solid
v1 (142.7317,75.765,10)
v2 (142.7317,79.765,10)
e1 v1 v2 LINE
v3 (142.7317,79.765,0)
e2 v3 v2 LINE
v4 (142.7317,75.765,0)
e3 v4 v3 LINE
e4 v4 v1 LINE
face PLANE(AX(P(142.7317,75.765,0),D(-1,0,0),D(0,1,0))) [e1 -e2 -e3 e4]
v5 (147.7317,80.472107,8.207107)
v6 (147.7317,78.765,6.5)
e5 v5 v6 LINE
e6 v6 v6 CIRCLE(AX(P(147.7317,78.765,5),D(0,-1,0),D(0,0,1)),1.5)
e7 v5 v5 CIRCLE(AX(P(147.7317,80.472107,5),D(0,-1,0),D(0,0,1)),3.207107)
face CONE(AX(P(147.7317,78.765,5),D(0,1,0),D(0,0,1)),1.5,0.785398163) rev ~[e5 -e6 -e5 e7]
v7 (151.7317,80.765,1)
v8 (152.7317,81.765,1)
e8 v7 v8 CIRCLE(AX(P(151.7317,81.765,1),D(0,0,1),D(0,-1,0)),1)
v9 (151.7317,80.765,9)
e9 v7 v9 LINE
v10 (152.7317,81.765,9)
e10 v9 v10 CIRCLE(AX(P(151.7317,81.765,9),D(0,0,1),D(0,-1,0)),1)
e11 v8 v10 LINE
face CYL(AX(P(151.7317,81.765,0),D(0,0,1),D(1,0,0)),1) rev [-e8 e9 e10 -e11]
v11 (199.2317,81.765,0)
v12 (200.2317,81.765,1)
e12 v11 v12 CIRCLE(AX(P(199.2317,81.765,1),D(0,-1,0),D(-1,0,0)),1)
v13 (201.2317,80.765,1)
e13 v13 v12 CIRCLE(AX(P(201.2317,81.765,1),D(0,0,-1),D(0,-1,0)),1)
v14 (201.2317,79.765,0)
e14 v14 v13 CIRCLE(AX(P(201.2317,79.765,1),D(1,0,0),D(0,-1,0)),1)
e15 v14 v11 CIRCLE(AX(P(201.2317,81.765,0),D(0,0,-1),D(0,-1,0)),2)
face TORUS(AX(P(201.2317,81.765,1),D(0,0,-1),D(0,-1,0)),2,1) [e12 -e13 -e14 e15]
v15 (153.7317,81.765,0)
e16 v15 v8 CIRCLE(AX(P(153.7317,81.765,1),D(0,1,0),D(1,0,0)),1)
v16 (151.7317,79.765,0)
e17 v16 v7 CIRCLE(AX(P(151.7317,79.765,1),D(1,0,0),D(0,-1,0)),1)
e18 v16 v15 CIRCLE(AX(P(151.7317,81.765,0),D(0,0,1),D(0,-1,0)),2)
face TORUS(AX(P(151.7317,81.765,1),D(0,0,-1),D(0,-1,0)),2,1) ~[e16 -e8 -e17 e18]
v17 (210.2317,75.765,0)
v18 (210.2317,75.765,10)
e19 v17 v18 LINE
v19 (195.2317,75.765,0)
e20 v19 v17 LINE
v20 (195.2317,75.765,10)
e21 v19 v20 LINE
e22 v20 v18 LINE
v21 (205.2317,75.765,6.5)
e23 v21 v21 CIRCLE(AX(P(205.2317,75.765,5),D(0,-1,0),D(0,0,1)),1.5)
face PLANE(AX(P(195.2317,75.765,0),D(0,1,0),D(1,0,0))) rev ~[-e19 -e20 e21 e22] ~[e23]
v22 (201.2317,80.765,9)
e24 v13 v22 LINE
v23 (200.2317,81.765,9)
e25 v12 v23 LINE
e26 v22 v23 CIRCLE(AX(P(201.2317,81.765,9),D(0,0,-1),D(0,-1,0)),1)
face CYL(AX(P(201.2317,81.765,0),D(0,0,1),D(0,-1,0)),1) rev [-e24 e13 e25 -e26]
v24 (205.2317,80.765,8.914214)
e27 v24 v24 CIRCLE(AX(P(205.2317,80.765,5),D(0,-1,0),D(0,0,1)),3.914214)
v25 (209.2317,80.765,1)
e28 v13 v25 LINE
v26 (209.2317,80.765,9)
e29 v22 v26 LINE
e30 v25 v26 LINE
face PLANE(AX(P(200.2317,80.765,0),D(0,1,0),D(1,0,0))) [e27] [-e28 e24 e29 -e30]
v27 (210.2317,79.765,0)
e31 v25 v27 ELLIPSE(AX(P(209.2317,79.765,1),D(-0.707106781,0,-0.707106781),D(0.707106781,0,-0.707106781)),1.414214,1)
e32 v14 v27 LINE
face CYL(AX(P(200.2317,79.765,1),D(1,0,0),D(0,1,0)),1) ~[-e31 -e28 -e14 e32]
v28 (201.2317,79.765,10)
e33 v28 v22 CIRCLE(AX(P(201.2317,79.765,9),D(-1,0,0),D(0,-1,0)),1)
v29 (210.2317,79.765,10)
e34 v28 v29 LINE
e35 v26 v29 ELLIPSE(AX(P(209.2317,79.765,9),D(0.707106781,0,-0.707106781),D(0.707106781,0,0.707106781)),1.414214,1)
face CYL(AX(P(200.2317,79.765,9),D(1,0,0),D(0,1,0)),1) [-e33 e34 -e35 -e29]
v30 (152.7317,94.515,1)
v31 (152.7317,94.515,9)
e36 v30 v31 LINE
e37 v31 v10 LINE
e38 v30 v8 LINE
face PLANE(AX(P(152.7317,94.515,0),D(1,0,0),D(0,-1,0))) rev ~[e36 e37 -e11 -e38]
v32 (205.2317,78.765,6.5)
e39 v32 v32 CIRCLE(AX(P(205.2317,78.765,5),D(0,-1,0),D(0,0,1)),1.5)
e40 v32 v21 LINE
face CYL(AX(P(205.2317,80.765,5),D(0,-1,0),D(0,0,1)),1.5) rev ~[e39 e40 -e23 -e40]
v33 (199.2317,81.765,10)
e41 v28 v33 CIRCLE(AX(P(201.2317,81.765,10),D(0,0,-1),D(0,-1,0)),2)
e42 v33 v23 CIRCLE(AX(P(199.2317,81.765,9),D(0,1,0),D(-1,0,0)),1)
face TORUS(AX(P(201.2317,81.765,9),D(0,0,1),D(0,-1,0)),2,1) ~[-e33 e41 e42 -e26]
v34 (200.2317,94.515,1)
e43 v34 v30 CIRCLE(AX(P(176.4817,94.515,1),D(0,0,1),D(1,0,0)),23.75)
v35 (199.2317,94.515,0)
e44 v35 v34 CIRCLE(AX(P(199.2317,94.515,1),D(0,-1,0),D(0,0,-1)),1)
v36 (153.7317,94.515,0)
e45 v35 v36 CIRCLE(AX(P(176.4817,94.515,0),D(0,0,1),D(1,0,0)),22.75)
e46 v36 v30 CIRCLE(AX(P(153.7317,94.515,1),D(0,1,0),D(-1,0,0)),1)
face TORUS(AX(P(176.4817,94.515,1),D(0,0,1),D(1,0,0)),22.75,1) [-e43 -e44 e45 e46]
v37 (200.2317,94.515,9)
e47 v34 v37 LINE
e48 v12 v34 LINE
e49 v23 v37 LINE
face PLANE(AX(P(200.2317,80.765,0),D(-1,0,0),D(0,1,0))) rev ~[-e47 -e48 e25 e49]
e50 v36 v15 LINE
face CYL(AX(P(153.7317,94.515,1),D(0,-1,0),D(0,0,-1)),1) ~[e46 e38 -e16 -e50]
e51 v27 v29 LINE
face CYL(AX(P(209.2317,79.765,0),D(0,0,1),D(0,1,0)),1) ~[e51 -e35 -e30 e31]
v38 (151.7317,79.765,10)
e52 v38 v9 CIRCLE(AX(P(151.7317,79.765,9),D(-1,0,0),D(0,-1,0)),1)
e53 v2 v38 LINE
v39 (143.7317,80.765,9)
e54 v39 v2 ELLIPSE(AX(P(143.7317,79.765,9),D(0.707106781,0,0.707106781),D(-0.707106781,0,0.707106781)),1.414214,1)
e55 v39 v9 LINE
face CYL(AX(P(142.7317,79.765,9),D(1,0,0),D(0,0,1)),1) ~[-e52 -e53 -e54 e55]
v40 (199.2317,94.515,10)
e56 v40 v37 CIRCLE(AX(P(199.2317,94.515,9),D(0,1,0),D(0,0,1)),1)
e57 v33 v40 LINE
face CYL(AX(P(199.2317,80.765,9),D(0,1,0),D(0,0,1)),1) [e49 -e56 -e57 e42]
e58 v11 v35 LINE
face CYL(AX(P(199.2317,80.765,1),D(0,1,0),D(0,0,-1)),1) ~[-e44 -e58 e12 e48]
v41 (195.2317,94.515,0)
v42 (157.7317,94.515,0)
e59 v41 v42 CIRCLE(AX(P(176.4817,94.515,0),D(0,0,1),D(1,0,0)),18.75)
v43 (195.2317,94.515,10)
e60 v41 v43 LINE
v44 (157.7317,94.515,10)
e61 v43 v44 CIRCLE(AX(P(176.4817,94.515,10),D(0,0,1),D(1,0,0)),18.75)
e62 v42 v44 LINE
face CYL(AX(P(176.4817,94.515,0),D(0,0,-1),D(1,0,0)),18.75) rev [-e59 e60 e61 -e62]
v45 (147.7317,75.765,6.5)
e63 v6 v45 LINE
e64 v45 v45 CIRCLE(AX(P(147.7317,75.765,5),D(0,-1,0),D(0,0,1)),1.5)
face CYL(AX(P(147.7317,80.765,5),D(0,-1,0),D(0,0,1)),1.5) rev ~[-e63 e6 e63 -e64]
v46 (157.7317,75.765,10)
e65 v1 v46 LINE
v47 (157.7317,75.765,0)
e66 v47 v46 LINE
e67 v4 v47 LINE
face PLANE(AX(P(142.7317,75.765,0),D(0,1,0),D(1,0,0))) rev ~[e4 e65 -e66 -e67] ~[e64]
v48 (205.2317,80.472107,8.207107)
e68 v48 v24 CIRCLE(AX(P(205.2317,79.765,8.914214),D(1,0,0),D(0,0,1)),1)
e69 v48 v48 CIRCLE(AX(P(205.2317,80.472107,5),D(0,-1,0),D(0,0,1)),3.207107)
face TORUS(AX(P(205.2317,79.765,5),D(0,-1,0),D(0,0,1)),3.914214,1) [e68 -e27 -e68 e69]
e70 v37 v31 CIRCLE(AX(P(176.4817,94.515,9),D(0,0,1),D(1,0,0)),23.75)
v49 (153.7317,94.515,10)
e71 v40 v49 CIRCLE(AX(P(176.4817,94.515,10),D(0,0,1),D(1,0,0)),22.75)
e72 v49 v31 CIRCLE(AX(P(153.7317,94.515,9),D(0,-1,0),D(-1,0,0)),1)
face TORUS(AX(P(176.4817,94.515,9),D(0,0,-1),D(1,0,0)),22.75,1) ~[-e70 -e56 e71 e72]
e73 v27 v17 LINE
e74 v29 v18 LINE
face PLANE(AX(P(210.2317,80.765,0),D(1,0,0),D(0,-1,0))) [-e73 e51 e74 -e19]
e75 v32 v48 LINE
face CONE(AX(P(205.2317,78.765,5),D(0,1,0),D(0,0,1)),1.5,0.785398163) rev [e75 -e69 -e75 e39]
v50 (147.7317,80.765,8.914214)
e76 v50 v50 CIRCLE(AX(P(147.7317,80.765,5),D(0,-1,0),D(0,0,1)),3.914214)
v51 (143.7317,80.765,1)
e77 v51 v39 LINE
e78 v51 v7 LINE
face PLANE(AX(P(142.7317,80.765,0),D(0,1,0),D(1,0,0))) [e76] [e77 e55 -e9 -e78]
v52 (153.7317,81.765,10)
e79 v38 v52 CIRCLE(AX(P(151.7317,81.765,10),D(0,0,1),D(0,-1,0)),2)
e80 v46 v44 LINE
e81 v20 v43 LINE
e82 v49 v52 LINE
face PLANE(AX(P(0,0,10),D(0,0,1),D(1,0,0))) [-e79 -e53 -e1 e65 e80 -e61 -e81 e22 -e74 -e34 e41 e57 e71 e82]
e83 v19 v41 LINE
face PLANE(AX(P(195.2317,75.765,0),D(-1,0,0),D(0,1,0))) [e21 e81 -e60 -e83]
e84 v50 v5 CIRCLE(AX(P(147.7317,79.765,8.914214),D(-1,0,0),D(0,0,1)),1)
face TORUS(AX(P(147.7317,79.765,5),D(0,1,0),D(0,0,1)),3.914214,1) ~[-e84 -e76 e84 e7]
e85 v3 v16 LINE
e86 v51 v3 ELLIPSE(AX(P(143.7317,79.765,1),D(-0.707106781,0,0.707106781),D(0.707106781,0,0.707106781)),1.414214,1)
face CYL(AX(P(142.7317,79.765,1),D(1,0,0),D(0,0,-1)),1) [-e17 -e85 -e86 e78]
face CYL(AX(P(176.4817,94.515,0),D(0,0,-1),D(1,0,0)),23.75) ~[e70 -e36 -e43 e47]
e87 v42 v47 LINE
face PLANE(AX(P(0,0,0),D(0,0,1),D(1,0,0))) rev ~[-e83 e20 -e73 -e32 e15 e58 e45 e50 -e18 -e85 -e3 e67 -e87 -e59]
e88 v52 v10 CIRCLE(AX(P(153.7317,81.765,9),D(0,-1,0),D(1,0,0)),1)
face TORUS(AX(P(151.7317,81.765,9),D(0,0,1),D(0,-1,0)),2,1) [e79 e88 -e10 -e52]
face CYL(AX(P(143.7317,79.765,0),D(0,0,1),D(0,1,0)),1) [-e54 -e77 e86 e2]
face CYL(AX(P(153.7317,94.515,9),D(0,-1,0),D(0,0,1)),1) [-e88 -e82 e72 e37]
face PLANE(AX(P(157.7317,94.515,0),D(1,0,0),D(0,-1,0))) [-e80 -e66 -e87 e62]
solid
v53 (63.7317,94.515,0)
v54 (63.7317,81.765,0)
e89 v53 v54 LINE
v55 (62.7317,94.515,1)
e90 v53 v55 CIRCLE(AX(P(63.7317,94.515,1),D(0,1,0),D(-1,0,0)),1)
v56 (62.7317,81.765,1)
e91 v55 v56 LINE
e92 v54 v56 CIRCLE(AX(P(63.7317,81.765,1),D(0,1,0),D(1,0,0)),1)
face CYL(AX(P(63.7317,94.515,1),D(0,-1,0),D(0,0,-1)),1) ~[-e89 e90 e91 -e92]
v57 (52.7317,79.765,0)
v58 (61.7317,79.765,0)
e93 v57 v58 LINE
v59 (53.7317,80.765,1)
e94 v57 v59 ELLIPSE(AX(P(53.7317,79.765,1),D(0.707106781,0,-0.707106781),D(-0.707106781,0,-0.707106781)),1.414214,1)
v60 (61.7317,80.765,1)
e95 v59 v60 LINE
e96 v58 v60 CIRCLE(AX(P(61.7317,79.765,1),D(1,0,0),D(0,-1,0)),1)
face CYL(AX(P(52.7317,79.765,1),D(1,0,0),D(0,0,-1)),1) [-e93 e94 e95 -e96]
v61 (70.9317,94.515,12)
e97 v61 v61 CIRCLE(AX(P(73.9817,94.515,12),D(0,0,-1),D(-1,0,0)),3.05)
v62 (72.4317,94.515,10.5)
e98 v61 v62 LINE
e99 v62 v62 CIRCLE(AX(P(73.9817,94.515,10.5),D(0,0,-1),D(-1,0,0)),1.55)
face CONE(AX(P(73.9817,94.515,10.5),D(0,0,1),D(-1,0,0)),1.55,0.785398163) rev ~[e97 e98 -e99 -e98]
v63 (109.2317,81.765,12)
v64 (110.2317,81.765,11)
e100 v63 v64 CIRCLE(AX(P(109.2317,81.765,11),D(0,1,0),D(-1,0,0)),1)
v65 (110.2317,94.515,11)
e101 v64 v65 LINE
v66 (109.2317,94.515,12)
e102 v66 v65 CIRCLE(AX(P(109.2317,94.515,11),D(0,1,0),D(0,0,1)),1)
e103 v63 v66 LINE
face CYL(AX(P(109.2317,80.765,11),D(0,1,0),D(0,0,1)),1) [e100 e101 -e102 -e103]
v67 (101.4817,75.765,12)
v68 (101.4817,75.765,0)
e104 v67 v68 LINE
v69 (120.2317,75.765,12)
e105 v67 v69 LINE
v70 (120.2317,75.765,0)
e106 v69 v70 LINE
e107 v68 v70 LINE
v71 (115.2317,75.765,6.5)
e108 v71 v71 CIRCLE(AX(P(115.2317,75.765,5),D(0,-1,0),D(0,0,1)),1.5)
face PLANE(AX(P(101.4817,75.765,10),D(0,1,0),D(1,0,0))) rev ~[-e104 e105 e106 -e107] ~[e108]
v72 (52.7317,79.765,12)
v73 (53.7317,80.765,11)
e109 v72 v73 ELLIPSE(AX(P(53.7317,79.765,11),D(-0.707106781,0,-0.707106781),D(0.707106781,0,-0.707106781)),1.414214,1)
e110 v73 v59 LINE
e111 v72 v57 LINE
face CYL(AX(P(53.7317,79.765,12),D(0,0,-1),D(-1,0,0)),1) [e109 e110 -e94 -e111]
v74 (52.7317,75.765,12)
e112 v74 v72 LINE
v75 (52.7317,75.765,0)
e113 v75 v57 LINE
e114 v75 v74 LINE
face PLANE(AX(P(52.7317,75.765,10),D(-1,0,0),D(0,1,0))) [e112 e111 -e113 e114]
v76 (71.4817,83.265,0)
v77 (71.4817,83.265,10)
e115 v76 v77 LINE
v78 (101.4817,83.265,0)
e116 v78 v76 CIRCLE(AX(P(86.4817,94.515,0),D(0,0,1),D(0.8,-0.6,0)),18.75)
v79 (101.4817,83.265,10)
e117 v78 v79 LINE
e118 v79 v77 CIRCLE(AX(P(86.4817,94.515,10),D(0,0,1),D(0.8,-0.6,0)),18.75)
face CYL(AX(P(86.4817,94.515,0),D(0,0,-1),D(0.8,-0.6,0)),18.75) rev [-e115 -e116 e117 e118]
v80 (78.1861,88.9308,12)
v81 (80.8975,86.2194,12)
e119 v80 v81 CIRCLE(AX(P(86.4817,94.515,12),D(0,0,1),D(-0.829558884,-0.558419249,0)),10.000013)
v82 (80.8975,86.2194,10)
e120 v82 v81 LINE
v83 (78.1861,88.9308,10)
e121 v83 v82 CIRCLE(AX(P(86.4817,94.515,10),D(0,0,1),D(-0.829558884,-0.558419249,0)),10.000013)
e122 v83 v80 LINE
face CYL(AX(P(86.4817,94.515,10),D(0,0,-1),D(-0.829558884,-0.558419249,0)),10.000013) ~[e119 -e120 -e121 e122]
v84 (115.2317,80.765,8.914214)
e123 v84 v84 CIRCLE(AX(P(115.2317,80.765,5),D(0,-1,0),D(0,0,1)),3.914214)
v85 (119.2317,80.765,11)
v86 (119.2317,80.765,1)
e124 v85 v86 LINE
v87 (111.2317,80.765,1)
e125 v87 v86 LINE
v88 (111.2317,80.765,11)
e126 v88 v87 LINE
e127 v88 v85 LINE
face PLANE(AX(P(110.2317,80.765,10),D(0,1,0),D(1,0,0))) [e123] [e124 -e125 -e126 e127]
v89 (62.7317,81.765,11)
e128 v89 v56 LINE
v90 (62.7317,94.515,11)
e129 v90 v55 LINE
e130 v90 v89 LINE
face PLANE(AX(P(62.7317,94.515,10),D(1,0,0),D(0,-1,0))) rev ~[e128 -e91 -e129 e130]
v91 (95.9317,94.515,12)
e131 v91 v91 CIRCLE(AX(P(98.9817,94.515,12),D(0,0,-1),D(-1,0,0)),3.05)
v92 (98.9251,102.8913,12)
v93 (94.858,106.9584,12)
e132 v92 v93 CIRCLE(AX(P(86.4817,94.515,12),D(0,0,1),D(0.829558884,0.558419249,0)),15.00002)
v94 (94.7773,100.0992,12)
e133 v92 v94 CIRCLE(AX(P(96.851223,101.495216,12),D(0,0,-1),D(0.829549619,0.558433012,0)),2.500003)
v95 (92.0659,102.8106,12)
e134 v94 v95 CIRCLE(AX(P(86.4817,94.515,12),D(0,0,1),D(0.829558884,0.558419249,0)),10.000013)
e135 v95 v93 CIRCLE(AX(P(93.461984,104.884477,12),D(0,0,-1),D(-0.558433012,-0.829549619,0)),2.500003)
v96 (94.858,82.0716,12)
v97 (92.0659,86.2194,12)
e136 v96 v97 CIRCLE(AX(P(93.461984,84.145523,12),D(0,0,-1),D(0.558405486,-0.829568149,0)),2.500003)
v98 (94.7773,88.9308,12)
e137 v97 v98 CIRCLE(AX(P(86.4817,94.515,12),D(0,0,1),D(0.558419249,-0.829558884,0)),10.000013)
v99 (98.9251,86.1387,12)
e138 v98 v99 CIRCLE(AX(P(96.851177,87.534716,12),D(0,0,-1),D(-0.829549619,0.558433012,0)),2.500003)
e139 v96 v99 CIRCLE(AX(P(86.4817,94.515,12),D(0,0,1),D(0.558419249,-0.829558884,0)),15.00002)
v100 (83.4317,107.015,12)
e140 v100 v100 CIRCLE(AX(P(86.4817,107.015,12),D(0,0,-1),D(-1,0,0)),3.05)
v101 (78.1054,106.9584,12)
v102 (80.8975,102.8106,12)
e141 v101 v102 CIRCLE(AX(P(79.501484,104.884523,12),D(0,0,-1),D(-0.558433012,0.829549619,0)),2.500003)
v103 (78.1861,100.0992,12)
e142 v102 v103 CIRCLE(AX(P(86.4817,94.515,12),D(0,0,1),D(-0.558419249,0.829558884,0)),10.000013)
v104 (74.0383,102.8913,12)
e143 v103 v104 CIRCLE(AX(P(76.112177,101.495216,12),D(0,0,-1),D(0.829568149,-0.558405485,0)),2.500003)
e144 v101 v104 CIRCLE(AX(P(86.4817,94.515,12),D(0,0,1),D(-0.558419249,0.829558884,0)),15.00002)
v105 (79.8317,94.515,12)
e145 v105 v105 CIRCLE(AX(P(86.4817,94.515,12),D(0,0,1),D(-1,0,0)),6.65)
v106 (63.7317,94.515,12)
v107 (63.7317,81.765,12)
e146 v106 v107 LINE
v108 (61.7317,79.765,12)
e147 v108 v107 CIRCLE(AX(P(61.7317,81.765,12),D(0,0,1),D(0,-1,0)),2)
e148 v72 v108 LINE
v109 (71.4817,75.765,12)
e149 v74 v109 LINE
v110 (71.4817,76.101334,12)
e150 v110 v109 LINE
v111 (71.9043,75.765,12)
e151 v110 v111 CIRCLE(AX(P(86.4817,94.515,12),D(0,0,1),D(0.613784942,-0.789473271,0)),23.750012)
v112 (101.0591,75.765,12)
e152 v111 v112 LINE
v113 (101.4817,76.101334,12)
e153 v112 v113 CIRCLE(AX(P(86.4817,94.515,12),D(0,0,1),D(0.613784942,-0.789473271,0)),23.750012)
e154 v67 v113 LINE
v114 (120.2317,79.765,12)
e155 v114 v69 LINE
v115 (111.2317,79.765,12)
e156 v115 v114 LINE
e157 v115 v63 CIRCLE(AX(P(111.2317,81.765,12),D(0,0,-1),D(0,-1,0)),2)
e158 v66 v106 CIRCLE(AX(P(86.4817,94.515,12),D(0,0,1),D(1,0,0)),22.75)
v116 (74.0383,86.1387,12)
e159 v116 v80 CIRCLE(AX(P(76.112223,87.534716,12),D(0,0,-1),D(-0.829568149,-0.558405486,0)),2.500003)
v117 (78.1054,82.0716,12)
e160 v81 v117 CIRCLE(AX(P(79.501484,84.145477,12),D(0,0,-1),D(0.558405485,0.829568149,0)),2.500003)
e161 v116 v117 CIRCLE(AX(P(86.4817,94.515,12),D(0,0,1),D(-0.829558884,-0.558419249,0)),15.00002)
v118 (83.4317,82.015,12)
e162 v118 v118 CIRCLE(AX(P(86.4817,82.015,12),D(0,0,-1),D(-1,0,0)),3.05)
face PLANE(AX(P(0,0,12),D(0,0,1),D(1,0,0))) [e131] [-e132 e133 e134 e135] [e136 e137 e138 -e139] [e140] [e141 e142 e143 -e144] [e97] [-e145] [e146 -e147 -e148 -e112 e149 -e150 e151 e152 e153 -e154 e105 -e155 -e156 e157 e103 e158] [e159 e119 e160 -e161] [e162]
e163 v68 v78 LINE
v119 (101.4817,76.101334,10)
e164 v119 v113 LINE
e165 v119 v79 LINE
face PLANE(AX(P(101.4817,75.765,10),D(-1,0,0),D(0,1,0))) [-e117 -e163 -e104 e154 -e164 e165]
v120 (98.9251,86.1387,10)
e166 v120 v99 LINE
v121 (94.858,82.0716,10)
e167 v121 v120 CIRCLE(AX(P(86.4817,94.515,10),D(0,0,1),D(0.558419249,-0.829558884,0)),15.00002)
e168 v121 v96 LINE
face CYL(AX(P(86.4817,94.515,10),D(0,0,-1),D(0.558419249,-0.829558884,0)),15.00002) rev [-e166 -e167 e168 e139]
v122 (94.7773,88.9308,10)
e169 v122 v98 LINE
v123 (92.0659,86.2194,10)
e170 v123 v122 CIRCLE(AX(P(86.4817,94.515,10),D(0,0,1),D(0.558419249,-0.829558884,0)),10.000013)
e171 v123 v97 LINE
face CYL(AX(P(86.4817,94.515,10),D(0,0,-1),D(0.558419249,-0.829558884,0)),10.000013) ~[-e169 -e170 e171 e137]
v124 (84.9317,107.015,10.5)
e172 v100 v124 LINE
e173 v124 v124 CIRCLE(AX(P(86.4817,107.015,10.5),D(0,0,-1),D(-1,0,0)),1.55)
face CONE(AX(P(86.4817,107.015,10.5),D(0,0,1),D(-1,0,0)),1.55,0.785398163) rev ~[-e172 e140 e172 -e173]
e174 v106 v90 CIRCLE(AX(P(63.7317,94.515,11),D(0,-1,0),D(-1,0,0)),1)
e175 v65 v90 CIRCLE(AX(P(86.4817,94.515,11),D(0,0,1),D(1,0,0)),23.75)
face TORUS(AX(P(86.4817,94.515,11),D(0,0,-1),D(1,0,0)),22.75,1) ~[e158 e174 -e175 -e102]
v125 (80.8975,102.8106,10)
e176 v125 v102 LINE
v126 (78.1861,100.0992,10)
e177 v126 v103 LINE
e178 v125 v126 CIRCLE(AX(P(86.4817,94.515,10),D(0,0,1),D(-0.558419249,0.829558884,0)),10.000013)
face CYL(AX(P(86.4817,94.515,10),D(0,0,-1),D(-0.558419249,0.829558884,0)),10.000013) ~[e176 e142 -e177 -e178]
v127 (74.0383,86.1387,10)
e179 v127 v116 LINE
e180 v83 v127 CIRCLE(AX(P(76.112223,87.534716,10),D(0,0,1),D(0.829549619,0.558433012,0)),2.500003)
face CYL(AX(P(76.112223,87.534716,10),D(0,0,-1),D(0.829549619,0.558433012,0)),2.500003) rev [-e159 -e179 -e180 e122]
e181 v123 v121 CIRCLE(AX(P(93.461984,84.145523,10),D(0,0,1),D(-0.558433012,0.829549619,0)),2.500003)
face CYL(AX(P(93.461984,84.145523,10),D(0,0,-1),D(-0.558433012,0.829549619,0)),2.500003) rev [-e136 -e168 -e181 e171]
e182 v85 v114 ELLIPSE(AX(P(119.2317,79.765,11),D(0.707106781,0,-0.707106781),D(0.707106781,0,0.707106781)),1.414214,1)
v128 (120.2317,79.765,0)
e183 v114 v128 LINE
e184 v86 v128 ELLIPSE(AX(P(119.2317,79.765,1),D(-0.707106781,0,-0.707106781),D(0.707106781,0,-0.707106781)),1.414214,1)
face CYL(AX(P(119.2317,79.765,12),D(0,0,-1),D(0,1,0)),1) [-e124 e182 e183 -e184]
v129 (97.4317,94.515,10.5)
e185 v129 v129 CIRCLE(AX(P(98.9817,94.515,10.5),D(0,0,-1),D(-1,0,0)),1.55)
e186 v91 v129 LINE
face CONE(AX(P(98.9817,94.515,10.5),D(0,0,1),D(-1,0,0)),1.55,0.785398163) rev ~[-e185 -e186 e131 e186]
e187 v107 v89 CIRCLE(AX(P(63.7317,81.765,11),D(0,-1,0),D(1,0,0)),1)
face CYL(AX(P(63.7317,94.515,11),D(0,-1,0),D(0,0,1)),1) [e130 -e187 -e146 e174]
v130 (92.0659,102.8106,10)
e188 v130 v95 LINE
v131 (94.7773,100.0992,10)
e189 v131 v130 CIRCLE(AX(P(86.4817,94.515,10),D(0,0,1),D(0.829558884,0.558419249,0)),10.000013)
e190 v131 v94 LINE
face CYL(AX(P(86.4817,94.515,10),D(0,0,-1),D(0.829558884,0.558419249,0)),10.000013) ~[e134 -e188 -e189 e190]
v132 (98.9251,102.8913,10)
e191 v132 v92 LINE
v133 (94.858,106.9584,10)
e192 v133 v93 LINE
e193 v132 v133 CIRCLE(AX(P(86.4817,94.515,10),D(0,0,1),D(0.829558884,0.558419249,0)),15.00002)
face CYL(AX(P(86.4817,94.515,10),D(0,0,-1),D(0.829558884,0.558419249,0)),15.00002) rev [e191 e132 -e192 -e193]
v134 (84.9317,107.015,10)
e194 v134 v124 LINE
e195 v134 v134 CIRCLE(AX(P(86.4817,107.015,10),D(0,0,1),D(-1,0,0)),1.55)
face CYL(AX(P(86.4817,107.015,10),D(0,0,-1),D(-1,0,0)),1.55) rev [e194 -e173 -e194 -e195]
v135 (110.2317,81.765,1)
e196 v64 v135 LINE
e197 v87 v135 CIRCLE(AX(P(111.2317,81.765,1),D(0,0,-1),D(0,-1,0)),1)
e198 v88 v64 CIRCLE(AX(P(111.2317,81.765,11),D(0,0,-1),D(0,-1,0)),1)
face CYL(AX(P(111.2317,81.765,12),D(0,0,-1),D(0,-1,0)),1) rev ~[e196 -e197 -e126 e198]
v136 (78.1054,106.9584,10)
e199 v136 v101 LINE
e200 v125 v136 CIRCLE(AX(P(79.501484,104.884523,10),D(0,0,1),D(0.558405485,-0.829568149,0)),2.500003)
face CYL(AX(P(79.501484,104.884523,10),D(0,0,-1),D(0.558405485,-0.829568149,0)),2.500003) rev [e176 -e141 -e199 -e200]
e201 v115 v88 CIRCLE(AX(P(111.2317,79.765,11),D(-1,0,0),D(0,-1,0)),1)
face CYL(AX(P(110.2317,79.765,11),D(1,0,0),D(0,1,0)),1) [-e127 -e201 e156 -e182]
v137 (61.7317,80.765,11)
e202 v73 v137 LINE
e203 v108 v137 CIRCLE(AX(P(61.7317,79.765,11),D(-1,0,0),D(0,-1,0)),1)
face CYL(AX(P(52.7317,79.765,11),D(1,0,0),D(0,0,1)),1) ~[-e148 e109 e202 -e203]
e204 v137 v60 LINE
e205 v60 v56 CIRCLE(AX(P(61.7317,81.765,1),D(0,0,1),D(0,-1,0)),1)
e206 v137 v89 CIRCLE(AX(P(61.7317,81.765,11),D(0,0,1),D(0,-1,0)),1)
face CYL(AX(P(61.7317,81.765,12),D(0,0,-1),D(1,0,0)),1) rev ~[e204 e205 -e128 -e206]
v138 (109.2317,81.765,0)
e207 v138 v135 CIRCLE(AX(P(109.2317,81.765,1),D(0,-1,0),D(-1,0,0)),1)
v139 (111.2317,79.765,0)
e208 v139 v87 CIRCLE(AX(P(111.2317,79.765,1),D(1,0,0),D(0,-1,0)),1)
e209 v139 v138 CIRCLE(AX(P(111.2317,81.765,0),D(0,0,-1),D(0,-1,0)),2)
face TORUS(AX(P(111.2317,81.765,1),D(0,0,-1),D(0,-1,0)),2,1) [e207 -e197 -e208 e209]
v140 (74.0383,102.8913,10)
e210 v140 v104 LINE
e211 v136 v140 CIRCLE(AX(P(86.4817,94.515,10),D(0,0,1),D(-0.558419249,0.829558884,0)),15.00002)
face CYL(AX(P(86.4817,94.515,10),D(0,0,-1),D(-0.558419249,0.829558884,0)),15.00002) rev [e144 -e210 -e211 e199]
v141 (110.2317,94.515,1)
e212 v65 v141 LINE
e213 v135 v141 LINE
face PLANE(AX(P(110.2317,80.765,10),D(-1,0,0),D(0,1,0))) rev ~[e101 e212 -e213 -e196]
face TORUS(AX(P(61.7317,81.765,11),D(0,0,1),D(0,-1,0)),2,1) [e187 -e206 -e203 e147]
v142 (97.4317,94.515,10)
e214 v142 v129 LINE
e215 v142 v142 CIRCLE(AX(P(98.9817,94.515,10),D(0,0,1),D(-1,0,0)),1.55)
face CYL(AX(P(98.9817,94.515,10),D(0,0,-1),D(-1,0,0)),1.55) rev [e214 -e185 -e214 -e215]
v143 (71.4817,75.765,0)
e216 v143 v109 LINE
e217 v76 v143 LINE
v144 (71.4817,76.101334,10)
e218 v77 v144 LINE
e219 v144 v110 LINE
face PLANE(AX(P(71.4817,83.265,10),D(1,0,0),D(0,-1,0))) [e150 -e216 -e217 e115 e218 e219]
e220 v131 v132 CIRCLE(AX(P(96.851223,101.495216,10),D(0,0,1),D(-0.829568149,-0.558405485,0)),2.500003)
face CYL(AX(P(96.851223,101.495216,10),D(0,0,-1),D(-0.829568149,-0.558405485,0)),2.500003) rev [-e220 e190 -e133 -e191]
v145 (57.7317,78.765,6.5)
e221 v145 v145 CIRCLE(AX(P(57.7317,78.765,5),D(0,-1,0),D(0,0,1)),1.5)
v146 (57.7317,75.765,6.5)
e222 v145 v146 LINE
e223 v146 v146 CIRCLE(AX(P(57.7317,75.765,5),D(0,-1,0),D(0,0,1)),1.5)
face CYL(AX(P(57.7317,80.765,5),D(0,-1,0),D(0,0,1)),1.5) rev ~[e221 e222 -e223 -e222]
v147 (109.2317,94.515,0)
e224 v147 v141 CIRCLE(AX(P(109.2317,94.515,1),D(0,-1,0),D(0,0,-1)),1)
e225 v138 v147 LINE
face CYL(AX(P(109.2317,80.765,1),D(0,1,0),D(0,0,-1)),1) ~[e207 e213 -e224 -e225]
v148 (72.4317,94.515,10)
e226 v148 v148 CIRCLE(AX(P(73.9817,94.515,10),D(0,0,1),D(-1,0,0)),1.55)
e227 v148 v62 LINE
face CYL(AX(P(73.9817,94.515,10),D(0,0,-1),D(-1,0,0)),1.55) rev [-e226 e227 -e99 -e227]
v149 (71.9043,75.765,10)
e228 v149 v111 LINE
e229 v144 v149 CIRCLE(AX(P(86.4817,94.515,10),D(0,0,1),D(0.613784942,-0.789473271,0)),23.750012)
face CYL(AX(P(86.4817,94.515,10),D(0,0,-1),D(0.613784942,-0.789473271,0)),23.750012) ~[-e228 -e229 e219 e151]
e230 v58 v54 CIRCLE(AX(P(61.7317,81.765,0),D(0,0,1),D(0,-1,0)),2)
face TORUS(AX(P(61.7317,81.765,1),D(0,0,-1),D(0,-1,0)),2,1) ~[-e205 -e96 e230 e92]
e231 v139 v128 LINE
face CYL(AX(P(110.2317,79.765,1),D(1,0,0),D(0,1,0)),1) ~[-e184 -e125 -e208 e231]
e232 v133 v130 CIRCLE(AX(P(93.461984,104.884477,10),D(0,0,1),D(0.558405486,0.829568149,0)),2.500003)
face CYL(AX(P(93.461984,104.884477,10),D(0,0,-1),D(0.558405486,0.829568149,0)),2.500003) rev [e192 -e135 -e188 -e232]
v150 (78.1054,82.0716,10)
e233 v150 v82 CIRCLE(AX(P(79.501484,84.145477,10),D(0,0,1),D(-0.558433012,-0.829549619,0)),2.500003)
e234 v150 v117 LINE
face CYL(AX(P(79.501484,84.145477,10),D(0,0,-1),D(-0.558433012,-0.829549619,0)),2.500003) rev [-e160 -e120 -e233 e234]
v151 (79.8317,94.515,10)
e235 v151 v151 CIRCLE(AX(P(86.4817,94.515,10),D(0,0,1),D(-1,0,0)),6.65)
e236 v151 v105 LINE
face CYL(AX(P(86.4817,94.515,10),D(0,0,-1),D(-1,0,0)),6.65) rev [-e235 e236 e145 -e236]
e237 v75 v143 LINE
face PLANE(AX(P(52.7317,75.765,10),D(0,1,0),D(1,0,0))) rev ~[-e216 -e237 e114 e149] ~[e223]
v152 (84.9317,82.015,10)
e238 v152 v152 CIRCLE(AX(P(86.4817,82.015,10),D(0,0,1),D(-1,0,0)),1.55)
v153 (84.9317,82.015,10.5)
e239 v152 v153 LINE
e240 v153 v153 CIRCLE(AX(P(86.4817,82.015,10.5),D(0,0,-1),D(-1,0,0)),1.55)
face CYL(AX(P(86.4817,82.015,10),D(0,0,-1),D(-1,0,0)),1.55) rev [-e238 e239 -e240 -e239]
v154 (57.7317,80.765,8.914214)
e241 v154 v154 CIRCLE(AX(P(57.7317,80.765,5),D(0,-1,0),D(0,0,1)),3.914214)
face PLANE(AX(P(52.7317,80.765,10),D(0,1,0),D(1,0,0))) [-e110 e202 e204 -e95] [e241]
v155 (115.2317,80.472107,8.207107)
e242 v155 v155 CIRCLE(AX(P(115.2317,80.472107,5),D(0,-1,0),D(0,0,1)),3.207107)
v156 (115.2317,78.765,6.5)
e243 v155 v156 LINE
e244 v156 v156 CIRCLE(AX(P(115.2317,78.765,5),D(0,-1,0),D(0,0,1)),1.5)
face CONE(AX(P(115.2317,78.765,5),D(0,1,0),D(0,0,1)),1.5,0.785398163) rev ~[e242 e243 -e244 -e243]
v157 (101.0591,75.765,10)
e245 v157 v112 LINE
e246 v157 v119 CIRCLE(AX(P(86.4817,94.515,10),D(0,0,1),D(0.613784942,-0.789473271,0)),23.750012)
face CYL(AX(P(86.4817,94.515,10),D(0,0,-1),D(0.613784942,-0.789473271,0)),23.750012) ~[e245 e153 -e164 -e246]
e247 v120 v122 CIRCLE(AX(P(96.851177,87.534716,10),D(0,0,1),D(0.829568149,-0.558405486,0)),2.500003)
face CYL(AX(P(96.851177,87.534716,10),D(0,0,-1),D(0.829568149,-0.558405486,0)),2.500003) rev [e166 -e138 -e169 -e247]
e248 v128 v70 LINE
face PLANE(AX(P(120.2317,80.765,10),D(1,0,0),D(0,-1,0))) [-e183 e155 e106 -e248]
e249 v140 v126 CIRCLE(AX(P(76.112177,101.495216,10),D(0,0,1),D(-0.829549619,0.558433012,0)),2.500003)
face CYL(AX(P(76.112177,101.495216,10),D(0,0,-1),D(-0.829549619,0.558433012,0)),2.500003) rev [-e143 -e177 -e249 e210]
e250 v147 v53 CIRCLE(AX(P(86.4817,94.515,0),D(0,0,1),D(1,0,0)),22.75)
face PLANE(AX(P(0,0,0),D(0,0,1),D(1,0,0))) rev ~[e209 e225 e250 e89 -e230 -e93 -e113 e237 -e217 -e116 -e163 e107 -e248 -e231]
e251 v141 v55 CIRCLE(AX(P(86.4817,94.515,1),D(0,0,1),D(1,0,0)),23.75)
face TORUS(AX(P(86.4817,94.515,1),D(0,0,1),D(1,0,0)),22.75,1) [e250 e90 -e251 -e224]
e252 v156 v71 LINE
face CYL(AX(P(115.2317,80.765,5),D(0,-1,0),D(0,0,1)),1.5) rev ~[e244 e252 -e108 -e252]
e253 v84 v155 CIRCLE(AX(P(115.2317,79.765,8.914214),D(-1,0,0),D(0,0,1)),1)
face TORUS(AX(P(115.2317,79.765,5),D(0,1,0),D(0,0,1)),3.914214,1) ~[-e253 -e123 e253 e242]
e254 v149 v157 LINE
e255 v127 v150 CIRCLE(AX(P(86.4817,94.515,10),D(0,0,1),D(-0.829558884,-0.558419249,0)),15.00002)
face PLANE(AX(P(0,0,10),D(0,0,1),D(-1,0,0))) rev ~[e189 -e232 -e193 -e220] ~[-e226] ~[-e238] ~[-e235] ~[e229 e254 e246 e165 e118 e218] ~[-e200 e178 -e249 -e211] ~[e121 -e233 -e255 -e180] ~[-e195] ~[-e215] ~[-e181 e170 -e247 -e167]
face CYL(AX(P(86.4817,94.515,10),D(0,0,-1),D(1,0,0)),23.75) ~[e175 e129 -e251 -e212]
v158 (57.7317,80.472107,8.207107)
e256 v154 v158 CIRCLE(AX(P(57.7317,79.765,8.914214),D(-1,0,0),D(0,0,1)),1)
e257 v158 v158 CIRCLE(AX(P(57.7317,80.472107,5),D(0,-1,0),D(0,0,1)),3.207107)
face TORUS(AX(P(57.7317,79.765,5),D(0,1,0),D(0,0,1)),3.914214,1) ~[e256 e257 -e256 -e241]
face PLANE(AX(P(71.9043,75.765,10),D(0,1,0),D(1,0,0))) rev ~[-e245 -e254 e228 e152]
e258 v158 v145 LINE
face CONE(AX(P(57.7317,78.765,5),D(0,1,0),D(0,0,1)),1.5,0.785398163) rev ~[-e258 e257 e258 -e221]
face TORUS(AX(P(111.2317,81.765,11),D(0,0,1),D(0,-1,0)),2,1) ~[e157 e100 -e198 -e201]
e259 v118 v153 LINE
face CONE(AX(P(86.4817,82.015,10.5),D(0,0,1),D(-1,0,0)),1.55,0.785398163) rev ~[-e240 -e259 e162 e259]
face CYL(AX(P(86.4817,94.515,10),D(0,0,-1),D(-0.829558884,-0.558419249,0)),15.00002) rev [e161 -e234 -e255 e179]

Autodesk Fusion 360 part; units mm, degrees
sketch "Sketch1" plane through (0, 0, 0) normal (0, 0, 1) x (1, 0, 0)
  line L0 (52.7317, 75.765) -> (52.7317, 80.765)
  line L1 (120.2317, 80.765) -> (120.2317, 75.765)
  line L2 (52.7317, 80.765) -> (62.7317, 80.765)
  line L3 (110.2317, 80.765) -> (120.2317, 80.765)
  line L4 (62.7317, 94.515) -> (62.7317, 80.765)
  line L5 (110.2317, 80.765) -> (110.2317, 94.515)
  arc A0 (110.2317, 94.515) -> (62.7317, 94.515) centre (86.4817, 94.515) ccw
  arc A1 (67.1168, 80.765) -> (67.7317, 79.9376) centre (86.4817, 94.515) ccw
  line L6 (195.2317, 75.765) -> (195.2317, 94.515)
  line L7 (210.2317, 80.765) -> (210.2317, 70.765)
  line L8 (200.2317, 80.765) -> (210.2317, 80.765)
  line L9 (200.2317, 80.765) -> (200.2317, 94.515)
  line L10 (142.7317, 80.765) -> (152.7317, 80.765)
  arc A2 (157.1168, 80.765) -> (157.7317, 79.9376) centre (176.4817, 94.515) ccw
  line L11 (152.7317, 94.515) -> (152.7317, 80.765)
  arc A3 (200.2317, 94.515) -> (152.7317, 94.515) centre (176.4817, 94.515) ccw
  line L12 (157.7317, 94.515) -> (157.7317, 75.765)
  line L13 (142.7317, 75.765) -> (142.7317, 80.765)
  line L14 (71.4817, 83.265) -> (71.4817, 75.765)
  line L15 (101.4817, 75.765) -> (101.4817, 83.265)
  arc A4 (101.4817, 83.265) -> (71.4817, 83.265) centre (86.4817, 94.515) ccw
  line L16 (52.7317, 75.765) -> (71.4817, 75.765)
  line L17 (101.4817, 75.765) -> (120.2317, 75.765)
  arc A5 (195.2317, 94.515) -> (157.7317, 94.515) centre (176.4817, 94.515) ccw
  line L18 (142.7317, 75.765) -> (157.7317, 75.765)
  line L19 (195.2317, 75.765) -> (210.2317, 75.765)
  point P0 (86.4817, 75.765)
  point P1 (86.4817, 75.765)
  point P2 (176.4817, 75.765)
  point P3 (176.4817, 75.765)
  point P4 (86.4817, 75.765)
  dimension "d1" = 37.5
  dimension "d3" = 47.5
  dimension "d4" = 67.5
  dimension "d6" = 37.5
  dimension "d7" = 47.5
  dimension "d8" = 67.5
extrude "Extrude1" add sketch "Sketch1" along normal blind 10 contours L0 L1 L2 L3 L4 L5 A0 L14 L15 A4 L16 L17 makes body 1
extrude "Extrude2" add sketch "Sketch1" along normal blind 10 separate body contours L6 L7 L8 L9 L10 L11 A3 L12 L13 A5 L18 L19 makes body 2
hole "Hole1" at (205.2317, 80.765, 5) direction (0, -1, 0) diameter 3 depth 8 tip angle 118 bodies 2
hole "Hole2" at (147.7317, 80.765, 5) direction (0, -1, 0) diameter 3 depth 8 tip angle 118 bodies 2
hole "Hole3" at (115.2317, 80.765, 5) direction (0, -1, 0) diameter 3 depth 8 tip angle 118 bodies 1
hole "Hole4" at (57.7317, 80.765, 5) direction (0, -1, 0) diameter 3 depth 8 tip angle 118 bodies 1
sketch "Sketch2" plane through (0, 0, 10) normal (0, 0, 1) x (-1, 0, 0)
  line L0 (-101.4817, -83.265) -> (-101.4817, -75.765)
  line L1 (-101.4817, -75.765) -> (-120.2317, -75.765)
  line L2 (-120.2317, -75.765) -> (-120.2317, -80.765)
  line L3 (-120.2317, -80.765) -> (-110.2317, -80.765)
  line L4 (-110.2317, -80.765) -> (-110.2317, -94.515)
  arc A0 (-110.2317, -94.515) -> (-62.7317, -94.515) centre (-86.4817, -94.515) ccw
  line L5 (-62.7317, -94.515) -> (-62.7317, -80.765)
  line L6 (-62.7317, -80.765) -> (-52.7317, -80.765)
  line L7 (-52.7317, -80.765) -> (-52.7317, -75.765)
  line L8 (-52.7317, -75.765) -> (-71.4817, -75.765)
  line L9 (-71.4817, -75.765) -> (-71.4817, -83.265)
  arc A1 (-101.4817, -83.265) -> (-71.4817, -83.265) centre (-86.4817, -94.515) ccw
  line L10 (-71.4817, -75.765) -> (-101.4817, -75.765)
  circle A2 centre (-86.4817, -94.515) radius 6.65
  circle A3 centre (-98.9817, -94.515) radius 1.55
  circle A4 centre (-86.4817, -94.515) radius 12.5
  arc A5 (-78.1054, -106.9584) -> (-74.0383, -102.8913) centre (-86.4817, -94.515) ccw
  arc A6 (-80.8975, -102.8106) -> (-78.1054, -106.9584) centre (-79.5015, -104.8845) ccw
  arc A7 (-80.8975, -102.8106) -> (-78.1861, -100.0992) centre (-86.4817, -94.515) ccw
  arc A8 (-74.0383, -102.8913) -> (-78.1861, -100.0992) centre (-76.1122, -101.4952) ccw
  arc A9 (-79.5015, -104.8845) -> (-76.1122, -101.4952) centre (-86.4817, -94.515) ccw construction
  arc A10 (-74.0383, -86.1387) -> (-78.1054, -82.0716) centre (-86.4817, -94.515) ccw
  arc A11 (-78.1861, -88.9308) -> (-74.0383, -86.1387) centre (-76.1122, -87.5347) ccw
  arc A12 (-78.1861, -88.9308) -> (-80.8975, -86.2194) centre (-86.4817, -94.515) ccw
  arc A13 (-78.1054, -82.0716) -> (-80.8975, -86.2194) centre (-79.5015, -84.1455) ccw
  arc A14 (-94.858, -82.0716) -> (-98.9251, -86.1387) centre (-86.4817, -94.515) ccw
  arc A15 (-92.0659, -86.2194) -> (-94.858, -82.0716) centre (-93.462, -84.1455) ccw
  arc A16 (-92.0659, -86.2194) -> (-94.7773, -88.9308) centre (-86.4817, -94.515) ccw
  arc A17 (-98.9251, -86.1387) -> (-94.7773, -88.9308) centre (-96.8512, -87.5347) ccw
  arc A18 (-98.9251, -102.8913) -> (-94.858, -106.9584) centre (-86.4817, -94.515) ccw
  arc A19 (-94.7773, -100.0992) -> (-98.9251, -102.8913) centre (-96.8512, -101.4952) ccw
  arc A20 (-94.7773, -100.0992) -> (-92.0659, -102.8106) centre (-86.4817, -94.515) ccw
  arc A21 (-94.858, -106.9584) -> (-92.0659, -102.8106) centre (-93.462, -104.8845) ccw
  arc A22 (-101.0591, -75.765) -> (-71.9043, -75.765) centre (-86.4817, -94.515) ccw
  circle A23 centre (-86.4817, -107.015) radius 1.55
  circle A24 centre (-73.9817, -94.515) radius 1.55
  circle A25 centre (-86.4817, -82.015) radius 1.55
  point P0 (-77.6281, -103.339)
  dimension "d26" = 13.3
  dimension "d28" = 3.1
  dimension "d29" = 12.5
  dimension "d32" = 12.5
  dimension "d33" = 5
  dimension "d34" = 2.3869
  dimension "d35" = 4.7931
  dimension "d37" = 360
  dimension "d44" = 360
extrude "Extrude3" add sketch "Sketch2" along normal blind 2 separate body contours L0 L9 A1 L10 A22 | A3 A4 A6 A7 A8 A11 A12 A13 A15 A16 A17 A19 A20 A21 A23 A24 A25 makes body 3
extrude "Extrude4" add 1 faces at (104.3984, 79.9316, 10) along direction (0, 0, 1) blind 2 on bodies 1 bodies 1 3
chamfer "Chamfer2" distance 1.5 angle 45 4 edges at (87.9268, 106.4545, 12) (75.4268, 93.9545, 12) (87.9268, 81.4545, 12) (100.4268, 93.9545, 12) on bodies 1
chamfer "Chamfer3" distance 2 angle 45 4 edges at (115.7741, 80.765, 3.6015) (58.2741, 80.765, 3.6015) (205.7741, 80.765, 3.6015) (148.2741, 80.765, 3.6015) on bodies 1 2
fillet "Fillet2" radius 1 5 faces at (179.4349, 118.0807, 6.6667) (152.7317, 89.9316, 3.3333) (200.2317, 85.3483, 3.3333) (143.235, 80.765, 4.9128) (200.735, 80.765, 5.0872) on bodies 2
fillet "Fillet3" radius 1 5 faces at (108.3668, 103.7403, 8) (62.7317, 89.9316, 4) (110.2317, 85.3483, 4) (57.7317, 80.765, 10.8333) (115.2317, 80.765, 10.8333) on bodies 1
